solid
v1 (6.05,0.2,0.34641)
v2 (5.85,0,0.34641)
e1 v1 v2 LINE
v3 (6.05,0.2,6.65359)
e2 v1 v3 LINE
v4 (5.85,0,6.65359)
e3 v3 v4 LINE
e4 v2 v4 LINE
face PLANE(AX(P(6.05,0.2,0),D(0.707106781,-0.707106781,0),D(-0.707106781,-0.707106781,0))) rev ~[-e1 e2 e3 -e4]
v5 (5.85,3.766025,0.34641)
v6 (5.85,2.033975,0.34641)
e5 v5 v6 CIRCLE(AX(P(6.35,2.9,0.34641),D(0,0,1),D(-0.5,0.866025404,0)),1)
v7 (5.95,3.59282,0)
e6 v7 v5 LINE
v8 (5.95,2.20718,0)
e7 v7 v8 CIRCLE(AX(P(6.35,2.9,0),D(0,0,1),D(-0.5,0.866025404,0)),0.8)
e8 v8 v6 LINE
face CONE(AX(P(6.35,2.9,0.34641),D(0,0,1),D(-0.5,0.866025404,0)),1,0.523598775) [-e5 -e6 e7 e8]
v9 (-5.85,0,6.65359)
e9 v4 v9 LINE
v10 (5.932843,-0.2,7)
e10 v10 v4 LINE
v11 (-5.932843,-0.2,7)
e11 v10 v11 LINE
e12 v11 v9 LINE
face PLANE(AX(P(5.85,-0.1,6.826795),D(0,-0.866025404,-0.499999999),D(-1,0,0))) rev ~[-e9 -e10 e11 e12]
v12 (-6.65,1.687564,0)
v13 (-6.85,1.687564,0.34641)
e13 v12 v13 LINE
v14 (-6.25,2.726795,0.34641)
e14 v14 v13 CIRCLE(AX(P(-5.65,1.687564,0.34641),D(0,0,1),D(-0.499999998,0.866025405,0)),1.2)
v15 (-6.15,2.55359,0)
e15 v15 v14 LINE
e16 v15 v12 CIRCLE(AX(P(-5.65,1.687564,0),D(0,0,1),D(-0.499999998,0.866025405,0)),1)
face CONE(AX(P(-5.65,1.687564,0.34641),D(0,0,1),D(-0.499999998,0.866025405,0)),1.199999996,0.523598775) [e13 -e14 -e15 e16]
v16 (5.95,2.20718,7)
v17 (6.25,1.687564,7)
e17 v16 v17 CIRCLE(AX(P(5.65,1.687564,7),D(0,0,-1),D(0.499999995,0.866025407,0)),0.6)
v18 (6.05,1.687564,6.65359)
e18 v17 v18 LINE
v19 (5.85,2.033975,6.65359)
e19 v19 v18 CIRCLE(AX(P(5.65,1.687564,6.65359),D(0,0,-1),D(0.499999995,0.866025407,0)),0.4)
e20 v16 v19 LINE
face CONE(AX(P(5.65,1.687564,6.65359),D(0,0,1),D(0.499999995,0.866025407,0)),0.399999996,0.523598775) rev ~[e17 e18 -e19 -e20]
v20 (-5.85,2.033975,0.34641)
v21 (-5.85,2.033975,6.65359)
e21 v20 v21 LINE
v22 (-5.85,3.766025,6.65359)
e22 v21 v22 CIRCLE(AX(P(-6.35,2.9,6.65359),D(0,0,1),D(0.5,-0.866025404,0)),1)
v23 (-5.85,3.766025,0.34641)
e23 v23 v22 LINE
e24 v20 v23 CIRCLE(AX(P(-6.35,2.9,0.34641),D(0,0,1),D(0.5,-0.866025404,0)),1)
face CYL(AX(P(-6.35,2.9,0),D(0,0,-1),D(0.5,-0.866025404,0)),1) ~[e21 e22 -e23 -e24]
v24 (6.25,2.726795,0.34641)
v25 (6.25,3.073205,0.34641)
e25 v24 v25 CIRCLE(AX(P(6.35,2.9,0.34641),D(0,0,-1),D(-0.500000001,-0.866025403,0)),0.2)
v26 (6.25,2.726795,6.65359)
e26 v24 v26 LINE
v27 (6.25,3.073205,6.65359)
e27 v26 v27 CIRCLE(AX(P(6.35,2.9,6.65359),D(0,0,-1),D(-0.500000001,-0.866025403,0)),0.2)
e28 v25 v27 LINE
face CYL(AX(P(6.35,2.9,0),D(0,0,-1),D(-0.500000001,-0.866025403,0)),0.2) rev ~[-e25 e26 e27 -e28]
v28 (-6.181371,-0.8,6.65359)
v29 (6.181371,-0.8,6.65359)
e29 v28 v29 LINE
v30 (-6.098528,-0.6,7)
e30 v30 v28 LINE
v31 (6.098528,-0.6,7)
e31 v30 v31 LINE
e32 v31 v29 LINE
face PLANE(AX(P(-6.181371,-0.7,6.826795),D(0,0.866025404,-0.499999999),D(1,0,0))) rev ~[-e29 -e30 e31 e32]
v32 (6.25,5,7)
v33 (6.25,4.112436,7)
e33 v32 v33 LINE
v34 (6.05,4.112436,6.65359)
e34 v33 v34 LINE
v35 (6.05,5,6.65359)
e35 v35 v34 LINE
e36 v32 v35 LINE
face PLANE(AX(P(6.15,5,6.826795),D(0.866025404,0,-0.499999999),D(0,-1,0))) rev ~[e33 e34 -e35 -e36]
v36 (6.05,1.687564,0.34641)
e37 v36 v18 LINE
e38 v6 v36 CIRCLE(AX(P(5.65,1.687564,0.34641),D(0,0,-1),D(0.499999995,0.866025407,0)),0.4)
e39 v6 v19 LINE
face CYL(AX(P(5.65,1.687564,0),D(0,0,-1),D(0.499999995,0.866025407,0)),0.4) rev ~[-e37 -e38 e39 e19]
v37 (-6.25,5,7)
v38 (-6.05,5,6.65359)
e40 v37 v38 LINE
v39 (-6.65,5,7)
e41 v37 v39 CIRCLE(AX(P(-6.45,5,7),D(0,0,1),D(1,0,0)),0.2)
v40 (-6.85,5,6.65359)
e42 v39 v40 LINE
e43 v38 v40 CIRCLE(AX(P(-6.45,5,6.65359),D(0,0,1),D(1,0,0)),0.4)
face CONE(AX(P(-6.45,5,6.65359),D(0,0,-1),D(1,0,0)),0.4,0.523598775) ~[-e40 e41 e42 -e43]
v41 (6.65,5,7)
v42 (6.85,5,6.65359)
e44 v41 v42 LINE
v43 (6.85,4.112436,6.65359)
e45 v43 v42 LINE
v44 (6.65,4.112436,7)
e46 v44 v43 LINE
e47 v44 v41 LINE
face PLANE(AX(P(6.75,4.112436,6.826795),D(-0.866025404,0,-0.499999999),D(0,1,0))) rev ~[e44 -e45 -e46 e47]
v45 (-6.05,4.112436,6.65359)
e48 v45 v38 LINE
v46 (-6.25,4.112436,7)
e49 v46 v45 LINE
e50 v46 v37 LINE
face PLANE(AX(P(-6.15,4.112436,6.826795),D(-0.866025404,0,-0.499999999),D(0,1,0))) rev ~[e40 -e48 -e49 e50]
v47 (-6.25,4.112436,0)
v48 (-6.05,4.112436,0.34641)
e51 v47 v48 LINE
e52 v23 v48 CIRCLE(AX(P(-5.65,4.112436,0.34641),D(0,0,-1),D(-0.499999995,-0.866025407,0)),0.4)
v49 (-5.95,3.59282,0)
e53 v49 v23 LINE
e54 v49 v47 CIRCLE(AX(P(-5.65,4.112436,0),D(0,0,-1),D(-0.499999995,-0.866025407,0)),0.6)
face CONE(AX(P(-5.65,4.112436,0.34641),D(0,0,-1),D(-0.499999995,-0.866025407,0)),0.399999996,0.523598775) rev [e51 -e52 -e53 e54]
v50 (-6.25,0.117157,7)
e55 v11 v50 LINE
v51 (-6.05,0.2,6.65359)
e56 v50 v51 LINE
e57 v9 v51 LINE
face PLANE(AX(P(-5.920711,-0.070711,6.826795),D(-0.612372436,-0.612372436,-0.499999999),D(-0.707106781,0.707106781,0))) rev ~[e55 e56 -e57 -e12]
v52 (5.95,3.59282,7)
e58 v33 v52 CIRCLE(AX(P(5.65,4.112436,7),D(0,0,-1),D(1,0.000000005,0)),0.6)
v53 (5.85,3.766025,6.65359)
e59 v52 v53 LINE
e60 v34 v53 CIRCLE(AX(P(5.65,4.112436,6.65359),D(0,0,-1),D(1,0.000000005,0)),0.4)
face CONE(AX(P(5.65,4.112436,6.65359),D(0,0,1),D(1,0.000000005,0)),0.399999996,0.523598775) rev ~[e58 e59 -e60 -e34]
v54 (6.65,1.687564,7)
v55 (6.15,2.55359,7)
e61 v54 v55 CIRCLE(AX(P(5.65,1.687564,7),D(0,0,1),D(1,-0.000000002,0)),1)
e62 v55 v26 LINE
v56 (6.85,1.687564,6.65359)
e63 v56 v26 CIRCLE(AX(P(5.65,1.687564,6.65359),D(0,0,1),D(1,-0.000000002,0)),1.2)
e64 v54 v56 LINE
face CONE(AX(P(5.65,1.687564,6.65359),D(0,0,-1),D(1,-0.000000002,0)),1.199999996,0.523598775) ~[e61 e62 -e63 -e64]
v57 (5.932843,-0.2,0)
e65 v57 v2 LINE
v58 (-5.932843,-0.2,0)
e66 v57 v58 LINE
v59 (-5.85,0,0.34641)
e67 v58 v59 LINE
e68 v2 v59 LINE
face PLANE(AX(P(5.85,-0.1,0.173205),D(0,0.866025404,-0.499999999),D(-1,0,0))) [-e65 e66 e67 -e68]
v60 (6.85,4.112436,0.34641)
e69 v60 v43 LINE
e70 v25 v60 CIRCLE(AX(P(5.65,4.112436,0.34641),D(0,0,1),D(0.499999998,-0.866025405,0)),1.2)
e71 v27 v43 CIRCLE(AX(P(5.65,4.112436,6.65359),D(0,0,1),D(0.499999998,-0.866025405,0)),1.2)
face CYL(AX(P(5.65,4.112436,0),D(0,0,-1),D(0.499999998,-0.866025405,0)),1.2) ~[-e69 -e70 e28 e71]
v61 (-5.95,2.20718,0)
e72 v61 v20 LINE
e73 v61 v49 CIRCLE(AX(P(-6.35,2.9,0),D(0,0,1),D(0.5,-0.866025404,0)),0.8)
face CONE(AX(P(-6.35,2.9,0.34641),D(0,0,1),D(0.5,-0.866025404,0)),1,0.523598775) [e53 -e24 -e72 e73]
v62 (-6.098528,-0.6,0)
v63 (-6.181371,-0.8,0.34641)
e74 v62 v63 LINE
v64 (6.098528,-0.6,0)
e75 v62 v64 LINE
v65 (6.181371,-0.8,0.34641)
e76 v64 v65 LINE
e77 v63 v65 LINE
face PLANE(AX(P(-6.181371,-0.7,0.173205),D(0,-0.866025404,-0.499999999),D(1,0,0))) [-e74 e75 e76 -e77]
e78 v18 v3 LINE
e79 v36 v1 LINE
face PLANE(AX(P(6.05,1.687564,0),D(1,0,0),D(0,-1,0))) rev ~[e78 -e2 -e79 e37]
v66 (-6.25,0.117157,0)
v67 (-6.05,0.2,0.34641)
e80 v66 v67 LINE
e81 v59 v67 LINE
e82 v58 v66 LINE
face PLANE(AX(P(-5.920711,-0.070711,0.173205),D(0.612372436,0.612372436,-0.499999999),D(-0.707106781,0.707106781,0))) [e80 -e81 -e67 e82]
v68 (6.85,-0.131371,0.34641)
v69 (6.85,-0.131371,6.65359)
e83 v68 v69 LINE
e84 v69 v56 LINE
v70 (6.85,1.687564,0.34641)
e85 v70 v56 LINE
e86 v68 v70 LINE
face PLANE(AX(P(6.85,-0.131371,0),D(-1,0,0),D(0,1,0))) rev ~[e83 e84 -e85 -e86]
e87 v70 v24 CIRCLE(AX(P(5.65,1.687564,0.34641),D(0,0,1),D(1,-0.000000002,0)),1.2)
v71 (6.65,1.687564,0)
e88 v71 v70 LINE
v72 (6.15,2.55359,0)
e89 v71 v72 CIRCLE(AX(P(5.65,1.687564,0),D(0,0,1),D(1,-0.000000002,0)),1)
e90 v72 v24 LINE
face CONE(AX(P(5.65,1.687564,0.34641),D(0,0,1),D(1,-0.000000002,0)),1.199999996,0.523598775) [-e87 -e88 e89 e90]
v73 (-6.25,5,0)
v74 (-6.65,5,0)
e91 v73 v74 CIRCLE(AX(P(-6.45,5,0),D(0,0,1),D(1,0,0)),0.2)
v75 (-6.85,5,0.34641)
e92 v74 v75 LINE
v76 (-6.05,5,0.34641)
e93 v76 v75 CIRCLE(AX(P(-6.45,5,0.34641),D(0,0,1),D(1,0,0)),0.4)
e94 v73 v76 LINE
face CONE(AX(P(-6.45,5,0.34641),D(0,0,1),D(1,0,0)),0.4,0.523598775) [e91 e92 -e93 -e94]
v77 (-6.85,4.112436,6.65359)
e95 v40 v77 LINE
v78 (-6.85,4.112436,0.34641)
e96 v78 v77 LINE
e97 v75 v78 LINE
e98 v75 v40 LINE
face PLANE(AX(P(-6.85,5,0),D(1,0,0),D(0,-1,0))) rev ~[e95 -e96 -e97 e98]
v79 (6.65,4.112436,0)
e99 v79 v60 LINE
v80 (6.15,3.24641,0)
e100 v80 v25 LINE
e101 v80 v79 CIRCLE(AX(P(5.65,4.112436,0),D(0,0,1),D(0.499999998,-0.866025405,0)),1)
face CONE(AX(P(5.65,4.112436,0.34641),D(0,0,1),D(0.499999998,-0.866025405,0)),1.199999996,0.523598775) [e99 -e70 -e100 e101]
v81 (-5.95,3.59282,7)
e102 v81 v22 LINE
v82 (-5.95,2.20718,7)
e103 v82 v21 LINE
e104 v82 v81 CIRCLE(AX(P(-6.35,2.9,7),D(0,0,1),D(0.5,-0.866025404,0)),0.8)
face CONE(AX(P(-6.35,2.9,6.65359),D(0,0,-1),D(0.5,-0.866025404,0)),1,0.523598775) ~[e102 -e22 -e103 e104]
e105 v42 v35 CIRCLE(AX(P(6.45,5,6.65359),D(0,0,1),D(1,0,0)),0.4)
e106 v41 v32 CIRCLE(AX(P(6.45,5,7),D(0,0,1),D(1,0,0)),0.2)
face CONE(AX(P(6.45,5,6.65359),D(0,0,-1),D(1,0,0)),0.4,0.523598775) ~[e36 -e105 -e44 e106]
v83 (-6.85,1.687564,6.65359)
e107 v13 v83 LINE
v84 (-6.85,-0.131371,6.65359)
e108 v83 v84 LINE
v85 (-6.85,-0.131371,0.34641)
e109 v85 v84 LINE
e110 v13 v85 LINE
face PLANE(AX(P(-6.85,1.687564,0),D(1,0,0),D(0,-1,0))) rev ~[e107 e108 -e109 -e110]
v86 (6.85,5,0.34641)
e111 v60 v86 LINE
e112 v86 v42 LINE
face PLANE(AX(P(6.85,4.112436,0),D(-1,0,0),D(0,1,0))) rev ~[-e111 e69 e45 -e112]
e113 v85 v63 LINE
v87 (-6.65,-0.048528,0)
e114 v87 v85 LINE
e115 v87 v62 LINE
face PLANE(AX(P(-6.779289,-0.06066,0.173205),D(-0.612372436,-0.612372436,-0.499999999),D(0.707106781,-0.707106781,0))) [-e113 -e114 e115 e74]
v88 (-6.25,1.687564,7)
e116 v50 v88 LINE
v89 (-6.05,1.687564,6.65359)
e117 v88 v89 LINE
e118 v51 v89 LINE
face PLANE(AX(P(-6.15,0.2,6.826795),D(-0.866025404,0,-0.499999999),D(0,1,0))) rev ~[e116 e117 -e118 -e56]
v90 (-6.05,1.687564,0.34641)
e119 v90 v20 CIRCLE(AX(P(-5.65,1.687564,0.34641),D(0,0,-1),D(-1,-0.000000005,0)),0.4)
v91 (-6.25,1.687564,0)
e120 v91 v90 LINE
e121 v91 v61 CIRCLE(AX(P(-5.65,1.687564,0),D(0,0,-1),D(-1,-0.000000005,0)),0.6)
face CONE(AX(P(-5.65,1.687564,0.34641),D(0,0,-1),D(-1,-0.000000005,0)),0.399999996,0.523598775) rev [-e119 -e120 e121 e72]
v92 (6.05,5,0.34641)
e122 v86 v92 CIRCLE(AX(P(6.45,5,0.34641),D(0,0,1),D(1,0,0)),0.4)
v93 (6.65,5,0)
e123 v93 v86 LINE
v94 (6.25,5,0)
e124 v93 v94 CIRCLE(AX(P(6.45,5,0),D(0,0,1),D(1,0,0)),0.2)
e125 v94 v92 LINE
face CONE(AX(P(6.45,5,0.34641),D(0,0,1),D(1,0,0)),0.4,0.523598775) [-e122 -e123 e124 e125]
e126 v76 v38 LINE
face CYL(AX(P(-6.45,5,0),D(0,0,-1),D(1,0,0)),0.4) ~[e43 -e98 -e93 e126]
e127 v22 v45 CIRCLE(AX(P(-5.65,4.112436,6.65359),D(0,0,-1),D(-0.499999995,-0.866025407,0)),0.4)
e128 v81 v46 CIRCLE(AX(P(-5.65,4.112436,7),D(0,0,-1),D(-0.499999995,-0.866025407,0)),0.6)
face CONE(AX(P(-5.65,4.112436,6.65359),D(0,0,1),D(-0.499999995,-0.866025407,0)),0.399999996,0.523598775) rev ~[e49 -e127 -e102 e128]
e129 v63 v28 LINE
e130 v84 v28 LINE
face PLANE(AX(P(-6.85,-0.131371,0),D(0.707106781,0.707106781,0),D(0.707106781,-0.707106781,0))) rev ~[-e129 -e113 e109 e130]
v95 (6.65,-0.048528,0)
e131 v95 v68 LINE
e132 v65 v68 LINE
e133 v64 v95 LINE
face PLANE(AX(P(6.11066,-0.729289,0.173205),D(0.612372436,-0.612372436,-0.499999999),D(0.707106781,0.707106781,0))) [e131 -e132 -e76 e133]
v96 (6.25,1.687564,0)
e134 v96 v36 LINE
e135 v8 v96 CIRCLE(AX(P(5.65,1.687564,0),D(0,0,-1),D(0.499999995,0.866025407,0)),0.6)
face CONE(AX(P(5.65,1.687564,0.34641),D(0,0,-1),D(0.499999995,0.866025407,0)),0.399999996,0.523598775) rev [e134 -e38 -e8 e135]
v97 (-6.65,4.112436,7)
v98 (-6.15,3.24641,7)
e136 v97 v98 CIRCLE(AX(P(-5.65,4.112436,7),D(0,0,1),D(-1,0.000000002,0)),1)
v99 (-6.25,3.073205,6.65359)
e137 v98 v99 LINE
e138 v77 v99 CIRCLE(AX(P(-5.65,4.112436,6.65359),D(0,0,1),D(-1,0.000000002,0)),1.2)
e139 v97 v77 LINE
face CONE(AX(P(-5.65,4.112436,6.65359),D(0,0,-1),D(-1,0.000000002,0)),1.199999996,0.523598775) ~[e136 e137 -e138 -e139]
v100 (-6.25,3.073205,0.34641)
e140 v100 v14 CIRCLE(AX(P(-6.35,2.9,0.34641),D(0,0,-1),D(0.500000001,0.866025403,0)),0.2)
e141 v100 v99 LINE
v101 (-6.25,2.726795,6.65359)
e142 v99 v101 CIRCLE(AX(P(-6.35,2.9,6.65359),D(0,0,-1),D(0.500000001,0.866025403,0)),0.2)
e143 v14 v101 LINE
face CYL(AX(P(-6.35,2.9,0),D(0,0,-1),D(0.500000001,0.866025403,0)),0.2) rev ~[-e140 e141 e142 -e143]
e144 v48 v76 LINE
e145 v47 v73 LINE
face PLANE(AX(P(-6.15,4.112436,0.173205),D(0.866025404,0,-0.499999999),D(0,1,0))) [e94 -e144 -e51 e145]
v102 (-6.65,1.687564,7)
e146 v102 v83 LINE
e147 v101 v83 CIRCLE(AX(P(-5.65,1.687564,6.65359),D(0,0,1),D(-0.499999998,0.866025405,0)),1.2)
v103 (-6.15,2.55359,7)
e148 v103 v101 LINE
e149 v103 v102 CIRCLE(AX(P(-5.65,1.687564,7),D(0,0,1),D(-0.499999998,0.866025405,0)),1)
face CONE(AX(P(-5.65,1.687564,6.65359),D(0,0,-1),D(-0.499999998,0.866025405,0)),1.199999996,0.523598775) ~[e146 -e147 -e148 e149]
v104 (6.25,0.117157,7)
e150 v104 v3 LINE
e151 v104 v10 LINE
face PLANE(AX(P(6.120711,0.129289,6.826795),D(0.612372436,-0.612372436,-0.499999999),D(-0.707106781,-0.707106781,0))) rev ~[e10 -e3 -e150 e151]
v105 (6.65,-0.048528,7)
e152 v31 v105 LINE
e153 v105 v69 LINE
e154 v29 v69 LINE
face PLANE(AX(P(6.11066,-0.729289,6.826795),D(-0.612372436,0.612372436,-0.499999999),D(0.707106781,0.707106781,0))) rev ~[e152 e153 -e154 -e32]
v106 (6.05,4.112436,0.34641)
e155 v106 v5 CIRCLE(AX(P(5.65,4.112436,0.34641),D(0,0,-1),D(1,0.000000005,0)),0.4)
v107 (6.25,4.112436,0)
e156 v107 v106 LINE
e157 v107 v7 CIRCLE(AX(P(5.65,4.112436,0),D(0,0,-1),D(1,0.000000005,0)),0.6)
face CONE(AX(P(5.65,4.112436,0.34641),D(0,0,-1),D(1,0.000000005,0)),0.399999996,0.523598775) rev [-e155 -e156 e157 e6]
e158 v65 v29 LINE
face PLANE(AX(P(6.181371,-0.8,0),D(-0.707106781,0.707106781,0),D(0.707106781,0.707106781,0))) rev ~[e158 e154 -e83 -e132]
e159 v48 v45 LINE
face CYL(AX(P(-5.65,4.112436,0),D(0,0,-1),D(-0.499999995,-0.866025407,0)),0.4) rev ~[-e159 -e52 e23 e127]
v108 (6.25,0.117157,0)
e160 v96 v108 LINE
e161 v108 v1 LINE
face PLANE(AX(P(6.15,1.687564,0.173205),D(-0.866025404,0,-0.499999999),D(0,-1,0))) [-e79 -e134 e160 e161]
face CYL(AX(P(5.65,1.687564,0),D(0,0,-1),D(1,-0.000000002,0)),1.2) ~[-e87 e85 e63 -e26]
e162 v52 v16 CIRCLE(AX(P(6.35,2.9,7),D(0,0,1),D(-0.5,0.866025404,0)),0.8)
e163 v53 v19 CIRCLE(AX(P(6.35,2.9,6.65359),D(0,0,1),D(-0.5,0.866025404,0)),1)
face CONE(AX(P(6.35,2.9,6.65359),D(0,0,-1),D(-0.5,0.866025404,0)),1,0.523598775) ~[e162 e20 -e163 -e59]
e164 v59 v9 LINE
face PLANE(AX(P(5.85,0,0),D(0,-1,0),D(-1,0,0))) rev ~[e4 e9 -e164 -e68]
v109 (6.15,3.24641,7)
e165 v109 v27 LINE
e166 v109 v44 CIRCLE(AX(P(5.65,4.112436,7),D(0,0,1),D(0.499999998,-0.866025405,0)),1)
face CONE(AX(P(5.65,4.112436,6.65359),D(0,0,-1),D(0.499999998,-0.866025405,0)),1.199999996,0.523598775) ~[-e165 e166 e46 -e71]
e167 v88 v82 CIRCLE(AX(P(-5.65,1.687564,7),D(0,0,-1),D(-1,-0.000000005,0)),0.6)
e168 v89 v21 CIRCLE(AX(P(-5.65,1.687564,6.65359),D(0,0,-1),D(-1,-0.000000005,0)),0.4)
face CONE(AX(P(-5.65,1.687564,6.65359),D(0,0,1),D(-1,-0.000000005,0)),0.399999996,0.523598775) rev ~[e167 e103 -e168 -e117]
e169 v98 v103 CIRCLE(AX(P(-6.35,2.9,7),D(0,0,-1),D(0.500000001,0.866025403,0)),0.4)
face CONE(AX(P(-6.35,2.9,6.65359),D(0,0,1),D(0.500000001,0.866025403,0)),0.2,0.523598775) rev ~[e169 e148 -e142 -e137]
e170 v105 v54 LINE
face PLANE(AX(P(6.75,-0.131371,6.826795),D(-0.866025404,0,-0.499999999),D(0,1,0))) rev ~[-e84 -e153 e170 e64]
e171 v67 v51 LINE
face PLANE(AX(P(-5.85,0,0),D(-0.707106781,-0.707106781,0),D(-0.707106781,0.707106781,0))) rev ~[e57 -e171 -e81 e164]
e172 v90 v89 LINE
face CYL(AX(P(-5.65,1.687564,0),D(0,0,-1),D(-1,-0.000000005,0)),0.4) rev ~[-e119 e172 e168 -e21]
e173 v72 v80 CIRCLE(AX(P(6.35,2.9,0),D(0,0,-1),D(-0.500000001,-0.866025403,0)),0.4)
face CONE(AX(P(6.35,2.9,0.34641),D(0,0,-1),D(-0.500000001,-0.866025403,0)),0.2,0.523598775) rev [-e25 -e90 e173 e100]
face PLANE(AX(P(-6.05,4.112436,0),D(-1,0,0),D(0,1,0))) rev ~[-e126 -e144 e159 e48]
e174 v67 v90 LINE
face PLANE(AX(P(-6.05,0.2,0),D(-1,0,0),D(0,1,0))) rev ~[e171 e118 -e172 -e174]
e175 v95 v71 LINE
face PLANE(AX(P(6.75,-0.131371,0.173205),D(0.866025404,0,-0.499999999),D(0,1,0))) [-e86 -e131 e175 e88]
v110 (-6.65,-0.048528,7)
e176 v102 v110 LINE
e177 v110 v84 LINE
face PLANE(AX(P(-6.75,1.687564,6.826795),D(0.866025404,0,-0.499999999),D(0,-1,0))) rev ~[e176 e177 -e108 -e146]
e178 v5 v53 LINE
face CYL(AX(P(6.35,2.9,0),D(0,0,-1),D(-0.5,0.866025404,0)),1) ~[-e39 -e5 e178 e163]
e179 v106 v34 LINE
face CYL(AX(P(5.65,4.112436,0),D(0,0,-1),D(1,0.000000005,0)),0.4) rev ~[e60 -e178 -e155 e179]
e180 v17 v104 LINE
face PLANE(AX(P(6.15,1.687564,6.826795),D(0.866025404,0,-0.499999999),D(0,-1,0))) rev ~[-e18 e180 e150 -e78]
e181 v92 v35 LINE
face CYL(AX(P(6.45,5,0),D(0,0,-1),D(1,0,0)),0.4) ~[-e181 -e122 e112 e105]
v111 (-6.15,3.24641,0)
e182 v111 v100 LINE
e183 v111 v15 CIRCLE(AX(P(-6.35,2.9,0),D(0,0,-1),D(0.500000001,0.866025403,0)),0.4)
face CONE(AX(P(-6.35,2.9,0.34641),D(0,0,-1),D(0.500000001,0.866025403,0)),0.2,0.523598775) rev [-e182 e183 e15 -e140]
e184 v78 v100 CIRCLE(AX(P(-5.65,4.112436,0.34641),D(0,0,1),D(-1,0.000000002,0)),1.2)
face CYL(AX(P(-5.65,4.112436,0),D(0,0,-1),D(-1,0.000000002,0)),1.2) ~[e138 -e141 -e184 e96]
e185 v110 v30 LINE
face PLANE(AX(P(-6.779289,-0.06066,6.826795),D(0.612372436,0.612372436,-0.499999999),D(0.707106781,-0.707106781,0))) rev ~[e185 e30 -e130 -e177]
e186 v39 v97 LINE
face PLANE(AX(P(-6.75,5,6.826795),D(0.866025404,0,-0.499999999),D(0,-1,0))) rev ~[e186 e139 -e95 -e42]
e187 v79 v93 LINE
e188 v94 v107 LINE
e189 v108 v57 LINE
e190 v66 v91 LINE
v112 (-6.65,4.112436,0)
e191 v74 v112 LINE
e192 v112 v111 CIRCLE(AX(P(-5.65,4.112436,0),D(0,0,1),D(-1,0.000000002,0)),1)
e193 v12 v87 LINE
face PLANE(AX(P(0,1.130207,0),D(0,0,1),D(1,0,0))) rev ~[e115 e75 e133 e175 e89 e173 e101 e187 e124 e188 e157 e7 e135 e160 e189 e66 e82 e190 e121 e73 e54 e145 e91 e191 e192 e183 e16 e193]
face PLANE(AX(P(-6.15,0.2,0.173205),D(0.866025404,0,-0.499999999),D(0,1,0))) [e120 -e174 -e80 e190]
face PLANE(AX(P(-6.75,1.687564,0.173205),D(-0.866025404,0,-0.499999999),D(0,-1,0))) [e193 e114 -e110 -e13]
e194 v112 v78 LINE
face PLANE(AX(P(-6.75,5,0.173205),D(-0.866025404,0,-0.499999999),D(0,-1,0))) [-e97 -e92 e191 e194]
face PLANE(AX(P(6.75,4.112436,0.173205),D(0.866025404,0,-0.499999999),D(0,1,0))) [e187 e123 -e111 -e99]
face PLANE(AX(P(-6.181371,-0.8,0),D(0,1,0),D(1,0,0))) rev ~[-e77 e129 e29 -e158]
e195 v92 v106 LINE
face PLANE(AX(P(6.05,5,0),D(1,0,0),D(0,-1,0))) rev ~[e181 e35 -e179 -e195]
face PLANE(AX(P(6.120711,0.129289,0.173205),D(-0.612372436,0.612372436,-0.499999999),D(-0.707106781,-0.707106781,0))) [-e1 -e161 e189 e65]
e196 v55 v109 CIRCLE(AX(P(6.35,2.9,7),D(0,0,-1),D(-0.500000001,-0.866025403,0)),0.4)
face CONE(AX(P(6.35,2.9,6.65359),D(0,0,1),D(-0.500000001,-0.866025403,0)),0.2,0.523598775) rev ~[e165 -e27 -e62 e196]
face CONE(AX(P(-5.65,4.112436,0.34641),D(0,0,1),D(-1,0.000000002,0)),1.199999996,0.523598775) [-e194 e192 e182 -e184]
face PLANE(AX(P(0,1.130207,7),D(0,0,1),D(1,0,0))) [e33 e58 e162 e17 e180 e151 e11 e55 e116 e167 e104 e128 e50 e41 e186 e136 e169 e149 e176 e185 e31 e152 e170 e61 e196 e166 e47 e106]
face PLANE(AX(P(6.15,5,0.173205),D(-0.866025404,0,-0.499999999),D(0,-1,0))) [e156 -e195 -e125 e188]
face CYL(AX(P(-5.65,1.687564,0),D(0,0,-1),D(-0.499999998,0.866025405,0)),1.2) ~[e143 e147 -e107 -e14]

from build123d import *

# Parameters (mm, degrees)
BOSS_EXTRUDE1_DEPTH   = 7
CHAMFER1_SIZE         = 0.2
CHAMFER1_SIZE2        = 0.346410162
CHAMFER1_PART_2_SIZE  = 0.2
CHAMFER1_PART_2_SIZE2 = 0.346410162


with BuildPart() as part:
    # Sketch1 → Boss-Extrude1 (new body)
    with BuildSketch(Plane.XY):
        with BuildLine():
            Line((5.85, 0), (-5.85, 0))
            Line((-5.85, 0), (-6.05, 0.2))
            Line((-6.05, 0.2), (-6.05, 1.687564435))
            ThreePointArc((-6.05, 1.687564435), (-5.996410162, 1.887564435), (-5.85, 2.033974596))
            ThreePointArc((-5.85, 2.033974596), (-5.35, 2.9), (-5.85, 3.766025404))
            ThreePointArc((-5.85, 3.766025404), (-5.996410162, 3.912435565), (-6.05, 4.112435565))
            Line((-6.05, 4.112435565), (-6.05, 5))
            ThreePointArc((-6.05, 5), (-6.45, 5.4), (-6.85, 5))
            Line((-6.85, 5), (-6.85, 4.112435565))
            ThreePointArc((-6.85, 4.112435565), (-6.689230485, 3.512435565), (-6.25, 3.073205081))
            ThreePointArc((-6.25, 3.073205081), (-6.15, 2.9), (-6.25, 2.726794919))
            ThreePointArc((-6.25, 2.726794919), (-6.689230485, 2.287564435), (-6.85, 1.687564435))
            Line((-6.85, 1.687564435), (-6.85, -0.13137085))
            Line((-6.85, -0.13137085), (-6.18137085, -0.8))
            Line((-6.18137085, -0.8), (6.18137085, -0.8))
            Line((6.18137085, -0.8), (6.85, -0.13137085))
            Line((6.85, -0.13137085), (6.85, 1.687564435))
            ThreePointArc((6.85, 1.687564435), (6.689230485, 2.287564435), (6.25, 2.726794919))
            ThreePointArc((6.25, 2.726794919), (6.15, 2.9), (6.25, 3.073205081))
            ThreePointArc((6.25, 3.073205081), (6.689230485, 3.512435565), (6.85, 4.112435565))
            Line((6.85, 4.112435565), (6.85, 5))
            ThreePointArc((6.85, 5), (6.45, 5.4), (6.05, 5))
            Line((6.05, 5), (6.05, 4.112435565))
            ThreePointArc((6.05, 4.112435565), (5.996410162, 3.912435565), (5.85, 3.766025404))
            ThreePointArc((5.85, 3.766025404), (5.35, 2.9), (5.85, 2.033974596))
            ThreePointArc((5.85, 2.033974596), (5.996410162, 1.887564435), (6.05, 1.687564435))
            Line((6.05, 1.687564435), (6.05, 0.2))
            Line((6.05, 0.2), (5.85, 0))
        make_face()
    extrude(amount=BOSS_EXTRUDE1_DEPTH)

    # Chamfer1
    chamfer1_edges = [part.edges().sort_by_distance(p)[0] for p in [
        (5.95, 0.1, 7),
        (0, 0, 7),
        (-5.95, 0.1, 7),
        (-6.05, 0.943782217, 7),
        (-5.996410162, 3.912435565, 7),
        (-6.05, 4.556217783, 7),
        (-6.45, 5.4, 7),
        (-6.85, 4.556217783, 7),
        (-6.689230485, 3.512435565, 7),
        (-6.15, 2.9, 7),
        (-6.689230485, 2.287564435, 7),
        (-6.85, 0.778096792, 7),
        (-6.515685425, -0.465685425, 7),
        (0, -0.8, 7),
        (-5.996410162, 1.887564435, 7),
        (6.515685425, -0.465685425, 7),
        (6.85, 0.778096792, 7),
        (6.689230485, 2.287564435, 7),
        (6.15, 2.9, 7),
        (6.689230485, 3.512435565, 7),
        (6.85, 4.556217783, 7),
        (6.45, 5.4, 7),
        (6.05, 4.556217783, 7),
        (5.996410162, 3.912435565, 7),
        (5.35, 2.9, 7),
        (-5.35, 2.9, 7),
        (5.996410162, 1.887564435, 7),
        (6.05, 0.943782217, 7),
    ]]
    chamfer1_side = [part.faces().sort_by_distance(p)[0] for p in [
        (6.126639766, 1.962752532, 7),
    ]]
    chamfer(chamfer1_edges, length=CHAMFER1_SIZE, length2=CHAMFER1_SIZE2, reference=chamfer1_side[0])

    # Chamfer1 part 2
    chamfer1_part_2_edges = [part.edges().sort_by_distance(p)[0] for p in [
        (-6.05, 0.943782217, 0),
        (-5.95, 0.1, 0),
        (0, 0, 0),
        (5.95, 0.1, 0),
        (6.05, 0.943782217, 0),
        (5.996410162, 1.887564435, 0),
        (5.35, 2.9, 0),
        (5.996410162, 3.912435565, 0),
        (6.05, 4.556217783, 0),
        (6.45, 5.4, 0),
        (6.85, 4.556217783, 0),
        (6.689230485, 3.512435565, 0),
        (6.15, 2.9, 0),
        (6.689230485, 2.287564435, 0),
        (6.85, 0.778096792, 0),
        (6.515685425, -0.465685425, 0),
        (0, -0.8, 0),
        (-6.515685425, -0.465685425, 0),
        (-6.85, 0.778096792, 0),
        (-6.689230485, 2.287564435, 0),
        (-6.15, 2.9, 0),
        (-6.689230485, 3.512435565, 0),
        (-6.85, 4.556217783, 0),
        (-6.45, 5.4, 0),
        (-6.05, 4.556217783, 0),
        (-5.996410162, 3.912435565, 0),
        (-5.35, 2.9, 0),
        (-5.996410162, 1.887564435, 0),
    ]]
    chamfer1_part_2_side = [part.faces().sort_by_distance(p)[0] for p in [
        (6.126639766, 1.962752532, 0),
    ]]
    chamfer(chamfer1_part_2_edges, length=CHAMFER1_PART_2_SIZE, length2=CHAMFER1_PART_2_SIZE2, reference=chamfer1_part_2_side[0])


solid = part.part
